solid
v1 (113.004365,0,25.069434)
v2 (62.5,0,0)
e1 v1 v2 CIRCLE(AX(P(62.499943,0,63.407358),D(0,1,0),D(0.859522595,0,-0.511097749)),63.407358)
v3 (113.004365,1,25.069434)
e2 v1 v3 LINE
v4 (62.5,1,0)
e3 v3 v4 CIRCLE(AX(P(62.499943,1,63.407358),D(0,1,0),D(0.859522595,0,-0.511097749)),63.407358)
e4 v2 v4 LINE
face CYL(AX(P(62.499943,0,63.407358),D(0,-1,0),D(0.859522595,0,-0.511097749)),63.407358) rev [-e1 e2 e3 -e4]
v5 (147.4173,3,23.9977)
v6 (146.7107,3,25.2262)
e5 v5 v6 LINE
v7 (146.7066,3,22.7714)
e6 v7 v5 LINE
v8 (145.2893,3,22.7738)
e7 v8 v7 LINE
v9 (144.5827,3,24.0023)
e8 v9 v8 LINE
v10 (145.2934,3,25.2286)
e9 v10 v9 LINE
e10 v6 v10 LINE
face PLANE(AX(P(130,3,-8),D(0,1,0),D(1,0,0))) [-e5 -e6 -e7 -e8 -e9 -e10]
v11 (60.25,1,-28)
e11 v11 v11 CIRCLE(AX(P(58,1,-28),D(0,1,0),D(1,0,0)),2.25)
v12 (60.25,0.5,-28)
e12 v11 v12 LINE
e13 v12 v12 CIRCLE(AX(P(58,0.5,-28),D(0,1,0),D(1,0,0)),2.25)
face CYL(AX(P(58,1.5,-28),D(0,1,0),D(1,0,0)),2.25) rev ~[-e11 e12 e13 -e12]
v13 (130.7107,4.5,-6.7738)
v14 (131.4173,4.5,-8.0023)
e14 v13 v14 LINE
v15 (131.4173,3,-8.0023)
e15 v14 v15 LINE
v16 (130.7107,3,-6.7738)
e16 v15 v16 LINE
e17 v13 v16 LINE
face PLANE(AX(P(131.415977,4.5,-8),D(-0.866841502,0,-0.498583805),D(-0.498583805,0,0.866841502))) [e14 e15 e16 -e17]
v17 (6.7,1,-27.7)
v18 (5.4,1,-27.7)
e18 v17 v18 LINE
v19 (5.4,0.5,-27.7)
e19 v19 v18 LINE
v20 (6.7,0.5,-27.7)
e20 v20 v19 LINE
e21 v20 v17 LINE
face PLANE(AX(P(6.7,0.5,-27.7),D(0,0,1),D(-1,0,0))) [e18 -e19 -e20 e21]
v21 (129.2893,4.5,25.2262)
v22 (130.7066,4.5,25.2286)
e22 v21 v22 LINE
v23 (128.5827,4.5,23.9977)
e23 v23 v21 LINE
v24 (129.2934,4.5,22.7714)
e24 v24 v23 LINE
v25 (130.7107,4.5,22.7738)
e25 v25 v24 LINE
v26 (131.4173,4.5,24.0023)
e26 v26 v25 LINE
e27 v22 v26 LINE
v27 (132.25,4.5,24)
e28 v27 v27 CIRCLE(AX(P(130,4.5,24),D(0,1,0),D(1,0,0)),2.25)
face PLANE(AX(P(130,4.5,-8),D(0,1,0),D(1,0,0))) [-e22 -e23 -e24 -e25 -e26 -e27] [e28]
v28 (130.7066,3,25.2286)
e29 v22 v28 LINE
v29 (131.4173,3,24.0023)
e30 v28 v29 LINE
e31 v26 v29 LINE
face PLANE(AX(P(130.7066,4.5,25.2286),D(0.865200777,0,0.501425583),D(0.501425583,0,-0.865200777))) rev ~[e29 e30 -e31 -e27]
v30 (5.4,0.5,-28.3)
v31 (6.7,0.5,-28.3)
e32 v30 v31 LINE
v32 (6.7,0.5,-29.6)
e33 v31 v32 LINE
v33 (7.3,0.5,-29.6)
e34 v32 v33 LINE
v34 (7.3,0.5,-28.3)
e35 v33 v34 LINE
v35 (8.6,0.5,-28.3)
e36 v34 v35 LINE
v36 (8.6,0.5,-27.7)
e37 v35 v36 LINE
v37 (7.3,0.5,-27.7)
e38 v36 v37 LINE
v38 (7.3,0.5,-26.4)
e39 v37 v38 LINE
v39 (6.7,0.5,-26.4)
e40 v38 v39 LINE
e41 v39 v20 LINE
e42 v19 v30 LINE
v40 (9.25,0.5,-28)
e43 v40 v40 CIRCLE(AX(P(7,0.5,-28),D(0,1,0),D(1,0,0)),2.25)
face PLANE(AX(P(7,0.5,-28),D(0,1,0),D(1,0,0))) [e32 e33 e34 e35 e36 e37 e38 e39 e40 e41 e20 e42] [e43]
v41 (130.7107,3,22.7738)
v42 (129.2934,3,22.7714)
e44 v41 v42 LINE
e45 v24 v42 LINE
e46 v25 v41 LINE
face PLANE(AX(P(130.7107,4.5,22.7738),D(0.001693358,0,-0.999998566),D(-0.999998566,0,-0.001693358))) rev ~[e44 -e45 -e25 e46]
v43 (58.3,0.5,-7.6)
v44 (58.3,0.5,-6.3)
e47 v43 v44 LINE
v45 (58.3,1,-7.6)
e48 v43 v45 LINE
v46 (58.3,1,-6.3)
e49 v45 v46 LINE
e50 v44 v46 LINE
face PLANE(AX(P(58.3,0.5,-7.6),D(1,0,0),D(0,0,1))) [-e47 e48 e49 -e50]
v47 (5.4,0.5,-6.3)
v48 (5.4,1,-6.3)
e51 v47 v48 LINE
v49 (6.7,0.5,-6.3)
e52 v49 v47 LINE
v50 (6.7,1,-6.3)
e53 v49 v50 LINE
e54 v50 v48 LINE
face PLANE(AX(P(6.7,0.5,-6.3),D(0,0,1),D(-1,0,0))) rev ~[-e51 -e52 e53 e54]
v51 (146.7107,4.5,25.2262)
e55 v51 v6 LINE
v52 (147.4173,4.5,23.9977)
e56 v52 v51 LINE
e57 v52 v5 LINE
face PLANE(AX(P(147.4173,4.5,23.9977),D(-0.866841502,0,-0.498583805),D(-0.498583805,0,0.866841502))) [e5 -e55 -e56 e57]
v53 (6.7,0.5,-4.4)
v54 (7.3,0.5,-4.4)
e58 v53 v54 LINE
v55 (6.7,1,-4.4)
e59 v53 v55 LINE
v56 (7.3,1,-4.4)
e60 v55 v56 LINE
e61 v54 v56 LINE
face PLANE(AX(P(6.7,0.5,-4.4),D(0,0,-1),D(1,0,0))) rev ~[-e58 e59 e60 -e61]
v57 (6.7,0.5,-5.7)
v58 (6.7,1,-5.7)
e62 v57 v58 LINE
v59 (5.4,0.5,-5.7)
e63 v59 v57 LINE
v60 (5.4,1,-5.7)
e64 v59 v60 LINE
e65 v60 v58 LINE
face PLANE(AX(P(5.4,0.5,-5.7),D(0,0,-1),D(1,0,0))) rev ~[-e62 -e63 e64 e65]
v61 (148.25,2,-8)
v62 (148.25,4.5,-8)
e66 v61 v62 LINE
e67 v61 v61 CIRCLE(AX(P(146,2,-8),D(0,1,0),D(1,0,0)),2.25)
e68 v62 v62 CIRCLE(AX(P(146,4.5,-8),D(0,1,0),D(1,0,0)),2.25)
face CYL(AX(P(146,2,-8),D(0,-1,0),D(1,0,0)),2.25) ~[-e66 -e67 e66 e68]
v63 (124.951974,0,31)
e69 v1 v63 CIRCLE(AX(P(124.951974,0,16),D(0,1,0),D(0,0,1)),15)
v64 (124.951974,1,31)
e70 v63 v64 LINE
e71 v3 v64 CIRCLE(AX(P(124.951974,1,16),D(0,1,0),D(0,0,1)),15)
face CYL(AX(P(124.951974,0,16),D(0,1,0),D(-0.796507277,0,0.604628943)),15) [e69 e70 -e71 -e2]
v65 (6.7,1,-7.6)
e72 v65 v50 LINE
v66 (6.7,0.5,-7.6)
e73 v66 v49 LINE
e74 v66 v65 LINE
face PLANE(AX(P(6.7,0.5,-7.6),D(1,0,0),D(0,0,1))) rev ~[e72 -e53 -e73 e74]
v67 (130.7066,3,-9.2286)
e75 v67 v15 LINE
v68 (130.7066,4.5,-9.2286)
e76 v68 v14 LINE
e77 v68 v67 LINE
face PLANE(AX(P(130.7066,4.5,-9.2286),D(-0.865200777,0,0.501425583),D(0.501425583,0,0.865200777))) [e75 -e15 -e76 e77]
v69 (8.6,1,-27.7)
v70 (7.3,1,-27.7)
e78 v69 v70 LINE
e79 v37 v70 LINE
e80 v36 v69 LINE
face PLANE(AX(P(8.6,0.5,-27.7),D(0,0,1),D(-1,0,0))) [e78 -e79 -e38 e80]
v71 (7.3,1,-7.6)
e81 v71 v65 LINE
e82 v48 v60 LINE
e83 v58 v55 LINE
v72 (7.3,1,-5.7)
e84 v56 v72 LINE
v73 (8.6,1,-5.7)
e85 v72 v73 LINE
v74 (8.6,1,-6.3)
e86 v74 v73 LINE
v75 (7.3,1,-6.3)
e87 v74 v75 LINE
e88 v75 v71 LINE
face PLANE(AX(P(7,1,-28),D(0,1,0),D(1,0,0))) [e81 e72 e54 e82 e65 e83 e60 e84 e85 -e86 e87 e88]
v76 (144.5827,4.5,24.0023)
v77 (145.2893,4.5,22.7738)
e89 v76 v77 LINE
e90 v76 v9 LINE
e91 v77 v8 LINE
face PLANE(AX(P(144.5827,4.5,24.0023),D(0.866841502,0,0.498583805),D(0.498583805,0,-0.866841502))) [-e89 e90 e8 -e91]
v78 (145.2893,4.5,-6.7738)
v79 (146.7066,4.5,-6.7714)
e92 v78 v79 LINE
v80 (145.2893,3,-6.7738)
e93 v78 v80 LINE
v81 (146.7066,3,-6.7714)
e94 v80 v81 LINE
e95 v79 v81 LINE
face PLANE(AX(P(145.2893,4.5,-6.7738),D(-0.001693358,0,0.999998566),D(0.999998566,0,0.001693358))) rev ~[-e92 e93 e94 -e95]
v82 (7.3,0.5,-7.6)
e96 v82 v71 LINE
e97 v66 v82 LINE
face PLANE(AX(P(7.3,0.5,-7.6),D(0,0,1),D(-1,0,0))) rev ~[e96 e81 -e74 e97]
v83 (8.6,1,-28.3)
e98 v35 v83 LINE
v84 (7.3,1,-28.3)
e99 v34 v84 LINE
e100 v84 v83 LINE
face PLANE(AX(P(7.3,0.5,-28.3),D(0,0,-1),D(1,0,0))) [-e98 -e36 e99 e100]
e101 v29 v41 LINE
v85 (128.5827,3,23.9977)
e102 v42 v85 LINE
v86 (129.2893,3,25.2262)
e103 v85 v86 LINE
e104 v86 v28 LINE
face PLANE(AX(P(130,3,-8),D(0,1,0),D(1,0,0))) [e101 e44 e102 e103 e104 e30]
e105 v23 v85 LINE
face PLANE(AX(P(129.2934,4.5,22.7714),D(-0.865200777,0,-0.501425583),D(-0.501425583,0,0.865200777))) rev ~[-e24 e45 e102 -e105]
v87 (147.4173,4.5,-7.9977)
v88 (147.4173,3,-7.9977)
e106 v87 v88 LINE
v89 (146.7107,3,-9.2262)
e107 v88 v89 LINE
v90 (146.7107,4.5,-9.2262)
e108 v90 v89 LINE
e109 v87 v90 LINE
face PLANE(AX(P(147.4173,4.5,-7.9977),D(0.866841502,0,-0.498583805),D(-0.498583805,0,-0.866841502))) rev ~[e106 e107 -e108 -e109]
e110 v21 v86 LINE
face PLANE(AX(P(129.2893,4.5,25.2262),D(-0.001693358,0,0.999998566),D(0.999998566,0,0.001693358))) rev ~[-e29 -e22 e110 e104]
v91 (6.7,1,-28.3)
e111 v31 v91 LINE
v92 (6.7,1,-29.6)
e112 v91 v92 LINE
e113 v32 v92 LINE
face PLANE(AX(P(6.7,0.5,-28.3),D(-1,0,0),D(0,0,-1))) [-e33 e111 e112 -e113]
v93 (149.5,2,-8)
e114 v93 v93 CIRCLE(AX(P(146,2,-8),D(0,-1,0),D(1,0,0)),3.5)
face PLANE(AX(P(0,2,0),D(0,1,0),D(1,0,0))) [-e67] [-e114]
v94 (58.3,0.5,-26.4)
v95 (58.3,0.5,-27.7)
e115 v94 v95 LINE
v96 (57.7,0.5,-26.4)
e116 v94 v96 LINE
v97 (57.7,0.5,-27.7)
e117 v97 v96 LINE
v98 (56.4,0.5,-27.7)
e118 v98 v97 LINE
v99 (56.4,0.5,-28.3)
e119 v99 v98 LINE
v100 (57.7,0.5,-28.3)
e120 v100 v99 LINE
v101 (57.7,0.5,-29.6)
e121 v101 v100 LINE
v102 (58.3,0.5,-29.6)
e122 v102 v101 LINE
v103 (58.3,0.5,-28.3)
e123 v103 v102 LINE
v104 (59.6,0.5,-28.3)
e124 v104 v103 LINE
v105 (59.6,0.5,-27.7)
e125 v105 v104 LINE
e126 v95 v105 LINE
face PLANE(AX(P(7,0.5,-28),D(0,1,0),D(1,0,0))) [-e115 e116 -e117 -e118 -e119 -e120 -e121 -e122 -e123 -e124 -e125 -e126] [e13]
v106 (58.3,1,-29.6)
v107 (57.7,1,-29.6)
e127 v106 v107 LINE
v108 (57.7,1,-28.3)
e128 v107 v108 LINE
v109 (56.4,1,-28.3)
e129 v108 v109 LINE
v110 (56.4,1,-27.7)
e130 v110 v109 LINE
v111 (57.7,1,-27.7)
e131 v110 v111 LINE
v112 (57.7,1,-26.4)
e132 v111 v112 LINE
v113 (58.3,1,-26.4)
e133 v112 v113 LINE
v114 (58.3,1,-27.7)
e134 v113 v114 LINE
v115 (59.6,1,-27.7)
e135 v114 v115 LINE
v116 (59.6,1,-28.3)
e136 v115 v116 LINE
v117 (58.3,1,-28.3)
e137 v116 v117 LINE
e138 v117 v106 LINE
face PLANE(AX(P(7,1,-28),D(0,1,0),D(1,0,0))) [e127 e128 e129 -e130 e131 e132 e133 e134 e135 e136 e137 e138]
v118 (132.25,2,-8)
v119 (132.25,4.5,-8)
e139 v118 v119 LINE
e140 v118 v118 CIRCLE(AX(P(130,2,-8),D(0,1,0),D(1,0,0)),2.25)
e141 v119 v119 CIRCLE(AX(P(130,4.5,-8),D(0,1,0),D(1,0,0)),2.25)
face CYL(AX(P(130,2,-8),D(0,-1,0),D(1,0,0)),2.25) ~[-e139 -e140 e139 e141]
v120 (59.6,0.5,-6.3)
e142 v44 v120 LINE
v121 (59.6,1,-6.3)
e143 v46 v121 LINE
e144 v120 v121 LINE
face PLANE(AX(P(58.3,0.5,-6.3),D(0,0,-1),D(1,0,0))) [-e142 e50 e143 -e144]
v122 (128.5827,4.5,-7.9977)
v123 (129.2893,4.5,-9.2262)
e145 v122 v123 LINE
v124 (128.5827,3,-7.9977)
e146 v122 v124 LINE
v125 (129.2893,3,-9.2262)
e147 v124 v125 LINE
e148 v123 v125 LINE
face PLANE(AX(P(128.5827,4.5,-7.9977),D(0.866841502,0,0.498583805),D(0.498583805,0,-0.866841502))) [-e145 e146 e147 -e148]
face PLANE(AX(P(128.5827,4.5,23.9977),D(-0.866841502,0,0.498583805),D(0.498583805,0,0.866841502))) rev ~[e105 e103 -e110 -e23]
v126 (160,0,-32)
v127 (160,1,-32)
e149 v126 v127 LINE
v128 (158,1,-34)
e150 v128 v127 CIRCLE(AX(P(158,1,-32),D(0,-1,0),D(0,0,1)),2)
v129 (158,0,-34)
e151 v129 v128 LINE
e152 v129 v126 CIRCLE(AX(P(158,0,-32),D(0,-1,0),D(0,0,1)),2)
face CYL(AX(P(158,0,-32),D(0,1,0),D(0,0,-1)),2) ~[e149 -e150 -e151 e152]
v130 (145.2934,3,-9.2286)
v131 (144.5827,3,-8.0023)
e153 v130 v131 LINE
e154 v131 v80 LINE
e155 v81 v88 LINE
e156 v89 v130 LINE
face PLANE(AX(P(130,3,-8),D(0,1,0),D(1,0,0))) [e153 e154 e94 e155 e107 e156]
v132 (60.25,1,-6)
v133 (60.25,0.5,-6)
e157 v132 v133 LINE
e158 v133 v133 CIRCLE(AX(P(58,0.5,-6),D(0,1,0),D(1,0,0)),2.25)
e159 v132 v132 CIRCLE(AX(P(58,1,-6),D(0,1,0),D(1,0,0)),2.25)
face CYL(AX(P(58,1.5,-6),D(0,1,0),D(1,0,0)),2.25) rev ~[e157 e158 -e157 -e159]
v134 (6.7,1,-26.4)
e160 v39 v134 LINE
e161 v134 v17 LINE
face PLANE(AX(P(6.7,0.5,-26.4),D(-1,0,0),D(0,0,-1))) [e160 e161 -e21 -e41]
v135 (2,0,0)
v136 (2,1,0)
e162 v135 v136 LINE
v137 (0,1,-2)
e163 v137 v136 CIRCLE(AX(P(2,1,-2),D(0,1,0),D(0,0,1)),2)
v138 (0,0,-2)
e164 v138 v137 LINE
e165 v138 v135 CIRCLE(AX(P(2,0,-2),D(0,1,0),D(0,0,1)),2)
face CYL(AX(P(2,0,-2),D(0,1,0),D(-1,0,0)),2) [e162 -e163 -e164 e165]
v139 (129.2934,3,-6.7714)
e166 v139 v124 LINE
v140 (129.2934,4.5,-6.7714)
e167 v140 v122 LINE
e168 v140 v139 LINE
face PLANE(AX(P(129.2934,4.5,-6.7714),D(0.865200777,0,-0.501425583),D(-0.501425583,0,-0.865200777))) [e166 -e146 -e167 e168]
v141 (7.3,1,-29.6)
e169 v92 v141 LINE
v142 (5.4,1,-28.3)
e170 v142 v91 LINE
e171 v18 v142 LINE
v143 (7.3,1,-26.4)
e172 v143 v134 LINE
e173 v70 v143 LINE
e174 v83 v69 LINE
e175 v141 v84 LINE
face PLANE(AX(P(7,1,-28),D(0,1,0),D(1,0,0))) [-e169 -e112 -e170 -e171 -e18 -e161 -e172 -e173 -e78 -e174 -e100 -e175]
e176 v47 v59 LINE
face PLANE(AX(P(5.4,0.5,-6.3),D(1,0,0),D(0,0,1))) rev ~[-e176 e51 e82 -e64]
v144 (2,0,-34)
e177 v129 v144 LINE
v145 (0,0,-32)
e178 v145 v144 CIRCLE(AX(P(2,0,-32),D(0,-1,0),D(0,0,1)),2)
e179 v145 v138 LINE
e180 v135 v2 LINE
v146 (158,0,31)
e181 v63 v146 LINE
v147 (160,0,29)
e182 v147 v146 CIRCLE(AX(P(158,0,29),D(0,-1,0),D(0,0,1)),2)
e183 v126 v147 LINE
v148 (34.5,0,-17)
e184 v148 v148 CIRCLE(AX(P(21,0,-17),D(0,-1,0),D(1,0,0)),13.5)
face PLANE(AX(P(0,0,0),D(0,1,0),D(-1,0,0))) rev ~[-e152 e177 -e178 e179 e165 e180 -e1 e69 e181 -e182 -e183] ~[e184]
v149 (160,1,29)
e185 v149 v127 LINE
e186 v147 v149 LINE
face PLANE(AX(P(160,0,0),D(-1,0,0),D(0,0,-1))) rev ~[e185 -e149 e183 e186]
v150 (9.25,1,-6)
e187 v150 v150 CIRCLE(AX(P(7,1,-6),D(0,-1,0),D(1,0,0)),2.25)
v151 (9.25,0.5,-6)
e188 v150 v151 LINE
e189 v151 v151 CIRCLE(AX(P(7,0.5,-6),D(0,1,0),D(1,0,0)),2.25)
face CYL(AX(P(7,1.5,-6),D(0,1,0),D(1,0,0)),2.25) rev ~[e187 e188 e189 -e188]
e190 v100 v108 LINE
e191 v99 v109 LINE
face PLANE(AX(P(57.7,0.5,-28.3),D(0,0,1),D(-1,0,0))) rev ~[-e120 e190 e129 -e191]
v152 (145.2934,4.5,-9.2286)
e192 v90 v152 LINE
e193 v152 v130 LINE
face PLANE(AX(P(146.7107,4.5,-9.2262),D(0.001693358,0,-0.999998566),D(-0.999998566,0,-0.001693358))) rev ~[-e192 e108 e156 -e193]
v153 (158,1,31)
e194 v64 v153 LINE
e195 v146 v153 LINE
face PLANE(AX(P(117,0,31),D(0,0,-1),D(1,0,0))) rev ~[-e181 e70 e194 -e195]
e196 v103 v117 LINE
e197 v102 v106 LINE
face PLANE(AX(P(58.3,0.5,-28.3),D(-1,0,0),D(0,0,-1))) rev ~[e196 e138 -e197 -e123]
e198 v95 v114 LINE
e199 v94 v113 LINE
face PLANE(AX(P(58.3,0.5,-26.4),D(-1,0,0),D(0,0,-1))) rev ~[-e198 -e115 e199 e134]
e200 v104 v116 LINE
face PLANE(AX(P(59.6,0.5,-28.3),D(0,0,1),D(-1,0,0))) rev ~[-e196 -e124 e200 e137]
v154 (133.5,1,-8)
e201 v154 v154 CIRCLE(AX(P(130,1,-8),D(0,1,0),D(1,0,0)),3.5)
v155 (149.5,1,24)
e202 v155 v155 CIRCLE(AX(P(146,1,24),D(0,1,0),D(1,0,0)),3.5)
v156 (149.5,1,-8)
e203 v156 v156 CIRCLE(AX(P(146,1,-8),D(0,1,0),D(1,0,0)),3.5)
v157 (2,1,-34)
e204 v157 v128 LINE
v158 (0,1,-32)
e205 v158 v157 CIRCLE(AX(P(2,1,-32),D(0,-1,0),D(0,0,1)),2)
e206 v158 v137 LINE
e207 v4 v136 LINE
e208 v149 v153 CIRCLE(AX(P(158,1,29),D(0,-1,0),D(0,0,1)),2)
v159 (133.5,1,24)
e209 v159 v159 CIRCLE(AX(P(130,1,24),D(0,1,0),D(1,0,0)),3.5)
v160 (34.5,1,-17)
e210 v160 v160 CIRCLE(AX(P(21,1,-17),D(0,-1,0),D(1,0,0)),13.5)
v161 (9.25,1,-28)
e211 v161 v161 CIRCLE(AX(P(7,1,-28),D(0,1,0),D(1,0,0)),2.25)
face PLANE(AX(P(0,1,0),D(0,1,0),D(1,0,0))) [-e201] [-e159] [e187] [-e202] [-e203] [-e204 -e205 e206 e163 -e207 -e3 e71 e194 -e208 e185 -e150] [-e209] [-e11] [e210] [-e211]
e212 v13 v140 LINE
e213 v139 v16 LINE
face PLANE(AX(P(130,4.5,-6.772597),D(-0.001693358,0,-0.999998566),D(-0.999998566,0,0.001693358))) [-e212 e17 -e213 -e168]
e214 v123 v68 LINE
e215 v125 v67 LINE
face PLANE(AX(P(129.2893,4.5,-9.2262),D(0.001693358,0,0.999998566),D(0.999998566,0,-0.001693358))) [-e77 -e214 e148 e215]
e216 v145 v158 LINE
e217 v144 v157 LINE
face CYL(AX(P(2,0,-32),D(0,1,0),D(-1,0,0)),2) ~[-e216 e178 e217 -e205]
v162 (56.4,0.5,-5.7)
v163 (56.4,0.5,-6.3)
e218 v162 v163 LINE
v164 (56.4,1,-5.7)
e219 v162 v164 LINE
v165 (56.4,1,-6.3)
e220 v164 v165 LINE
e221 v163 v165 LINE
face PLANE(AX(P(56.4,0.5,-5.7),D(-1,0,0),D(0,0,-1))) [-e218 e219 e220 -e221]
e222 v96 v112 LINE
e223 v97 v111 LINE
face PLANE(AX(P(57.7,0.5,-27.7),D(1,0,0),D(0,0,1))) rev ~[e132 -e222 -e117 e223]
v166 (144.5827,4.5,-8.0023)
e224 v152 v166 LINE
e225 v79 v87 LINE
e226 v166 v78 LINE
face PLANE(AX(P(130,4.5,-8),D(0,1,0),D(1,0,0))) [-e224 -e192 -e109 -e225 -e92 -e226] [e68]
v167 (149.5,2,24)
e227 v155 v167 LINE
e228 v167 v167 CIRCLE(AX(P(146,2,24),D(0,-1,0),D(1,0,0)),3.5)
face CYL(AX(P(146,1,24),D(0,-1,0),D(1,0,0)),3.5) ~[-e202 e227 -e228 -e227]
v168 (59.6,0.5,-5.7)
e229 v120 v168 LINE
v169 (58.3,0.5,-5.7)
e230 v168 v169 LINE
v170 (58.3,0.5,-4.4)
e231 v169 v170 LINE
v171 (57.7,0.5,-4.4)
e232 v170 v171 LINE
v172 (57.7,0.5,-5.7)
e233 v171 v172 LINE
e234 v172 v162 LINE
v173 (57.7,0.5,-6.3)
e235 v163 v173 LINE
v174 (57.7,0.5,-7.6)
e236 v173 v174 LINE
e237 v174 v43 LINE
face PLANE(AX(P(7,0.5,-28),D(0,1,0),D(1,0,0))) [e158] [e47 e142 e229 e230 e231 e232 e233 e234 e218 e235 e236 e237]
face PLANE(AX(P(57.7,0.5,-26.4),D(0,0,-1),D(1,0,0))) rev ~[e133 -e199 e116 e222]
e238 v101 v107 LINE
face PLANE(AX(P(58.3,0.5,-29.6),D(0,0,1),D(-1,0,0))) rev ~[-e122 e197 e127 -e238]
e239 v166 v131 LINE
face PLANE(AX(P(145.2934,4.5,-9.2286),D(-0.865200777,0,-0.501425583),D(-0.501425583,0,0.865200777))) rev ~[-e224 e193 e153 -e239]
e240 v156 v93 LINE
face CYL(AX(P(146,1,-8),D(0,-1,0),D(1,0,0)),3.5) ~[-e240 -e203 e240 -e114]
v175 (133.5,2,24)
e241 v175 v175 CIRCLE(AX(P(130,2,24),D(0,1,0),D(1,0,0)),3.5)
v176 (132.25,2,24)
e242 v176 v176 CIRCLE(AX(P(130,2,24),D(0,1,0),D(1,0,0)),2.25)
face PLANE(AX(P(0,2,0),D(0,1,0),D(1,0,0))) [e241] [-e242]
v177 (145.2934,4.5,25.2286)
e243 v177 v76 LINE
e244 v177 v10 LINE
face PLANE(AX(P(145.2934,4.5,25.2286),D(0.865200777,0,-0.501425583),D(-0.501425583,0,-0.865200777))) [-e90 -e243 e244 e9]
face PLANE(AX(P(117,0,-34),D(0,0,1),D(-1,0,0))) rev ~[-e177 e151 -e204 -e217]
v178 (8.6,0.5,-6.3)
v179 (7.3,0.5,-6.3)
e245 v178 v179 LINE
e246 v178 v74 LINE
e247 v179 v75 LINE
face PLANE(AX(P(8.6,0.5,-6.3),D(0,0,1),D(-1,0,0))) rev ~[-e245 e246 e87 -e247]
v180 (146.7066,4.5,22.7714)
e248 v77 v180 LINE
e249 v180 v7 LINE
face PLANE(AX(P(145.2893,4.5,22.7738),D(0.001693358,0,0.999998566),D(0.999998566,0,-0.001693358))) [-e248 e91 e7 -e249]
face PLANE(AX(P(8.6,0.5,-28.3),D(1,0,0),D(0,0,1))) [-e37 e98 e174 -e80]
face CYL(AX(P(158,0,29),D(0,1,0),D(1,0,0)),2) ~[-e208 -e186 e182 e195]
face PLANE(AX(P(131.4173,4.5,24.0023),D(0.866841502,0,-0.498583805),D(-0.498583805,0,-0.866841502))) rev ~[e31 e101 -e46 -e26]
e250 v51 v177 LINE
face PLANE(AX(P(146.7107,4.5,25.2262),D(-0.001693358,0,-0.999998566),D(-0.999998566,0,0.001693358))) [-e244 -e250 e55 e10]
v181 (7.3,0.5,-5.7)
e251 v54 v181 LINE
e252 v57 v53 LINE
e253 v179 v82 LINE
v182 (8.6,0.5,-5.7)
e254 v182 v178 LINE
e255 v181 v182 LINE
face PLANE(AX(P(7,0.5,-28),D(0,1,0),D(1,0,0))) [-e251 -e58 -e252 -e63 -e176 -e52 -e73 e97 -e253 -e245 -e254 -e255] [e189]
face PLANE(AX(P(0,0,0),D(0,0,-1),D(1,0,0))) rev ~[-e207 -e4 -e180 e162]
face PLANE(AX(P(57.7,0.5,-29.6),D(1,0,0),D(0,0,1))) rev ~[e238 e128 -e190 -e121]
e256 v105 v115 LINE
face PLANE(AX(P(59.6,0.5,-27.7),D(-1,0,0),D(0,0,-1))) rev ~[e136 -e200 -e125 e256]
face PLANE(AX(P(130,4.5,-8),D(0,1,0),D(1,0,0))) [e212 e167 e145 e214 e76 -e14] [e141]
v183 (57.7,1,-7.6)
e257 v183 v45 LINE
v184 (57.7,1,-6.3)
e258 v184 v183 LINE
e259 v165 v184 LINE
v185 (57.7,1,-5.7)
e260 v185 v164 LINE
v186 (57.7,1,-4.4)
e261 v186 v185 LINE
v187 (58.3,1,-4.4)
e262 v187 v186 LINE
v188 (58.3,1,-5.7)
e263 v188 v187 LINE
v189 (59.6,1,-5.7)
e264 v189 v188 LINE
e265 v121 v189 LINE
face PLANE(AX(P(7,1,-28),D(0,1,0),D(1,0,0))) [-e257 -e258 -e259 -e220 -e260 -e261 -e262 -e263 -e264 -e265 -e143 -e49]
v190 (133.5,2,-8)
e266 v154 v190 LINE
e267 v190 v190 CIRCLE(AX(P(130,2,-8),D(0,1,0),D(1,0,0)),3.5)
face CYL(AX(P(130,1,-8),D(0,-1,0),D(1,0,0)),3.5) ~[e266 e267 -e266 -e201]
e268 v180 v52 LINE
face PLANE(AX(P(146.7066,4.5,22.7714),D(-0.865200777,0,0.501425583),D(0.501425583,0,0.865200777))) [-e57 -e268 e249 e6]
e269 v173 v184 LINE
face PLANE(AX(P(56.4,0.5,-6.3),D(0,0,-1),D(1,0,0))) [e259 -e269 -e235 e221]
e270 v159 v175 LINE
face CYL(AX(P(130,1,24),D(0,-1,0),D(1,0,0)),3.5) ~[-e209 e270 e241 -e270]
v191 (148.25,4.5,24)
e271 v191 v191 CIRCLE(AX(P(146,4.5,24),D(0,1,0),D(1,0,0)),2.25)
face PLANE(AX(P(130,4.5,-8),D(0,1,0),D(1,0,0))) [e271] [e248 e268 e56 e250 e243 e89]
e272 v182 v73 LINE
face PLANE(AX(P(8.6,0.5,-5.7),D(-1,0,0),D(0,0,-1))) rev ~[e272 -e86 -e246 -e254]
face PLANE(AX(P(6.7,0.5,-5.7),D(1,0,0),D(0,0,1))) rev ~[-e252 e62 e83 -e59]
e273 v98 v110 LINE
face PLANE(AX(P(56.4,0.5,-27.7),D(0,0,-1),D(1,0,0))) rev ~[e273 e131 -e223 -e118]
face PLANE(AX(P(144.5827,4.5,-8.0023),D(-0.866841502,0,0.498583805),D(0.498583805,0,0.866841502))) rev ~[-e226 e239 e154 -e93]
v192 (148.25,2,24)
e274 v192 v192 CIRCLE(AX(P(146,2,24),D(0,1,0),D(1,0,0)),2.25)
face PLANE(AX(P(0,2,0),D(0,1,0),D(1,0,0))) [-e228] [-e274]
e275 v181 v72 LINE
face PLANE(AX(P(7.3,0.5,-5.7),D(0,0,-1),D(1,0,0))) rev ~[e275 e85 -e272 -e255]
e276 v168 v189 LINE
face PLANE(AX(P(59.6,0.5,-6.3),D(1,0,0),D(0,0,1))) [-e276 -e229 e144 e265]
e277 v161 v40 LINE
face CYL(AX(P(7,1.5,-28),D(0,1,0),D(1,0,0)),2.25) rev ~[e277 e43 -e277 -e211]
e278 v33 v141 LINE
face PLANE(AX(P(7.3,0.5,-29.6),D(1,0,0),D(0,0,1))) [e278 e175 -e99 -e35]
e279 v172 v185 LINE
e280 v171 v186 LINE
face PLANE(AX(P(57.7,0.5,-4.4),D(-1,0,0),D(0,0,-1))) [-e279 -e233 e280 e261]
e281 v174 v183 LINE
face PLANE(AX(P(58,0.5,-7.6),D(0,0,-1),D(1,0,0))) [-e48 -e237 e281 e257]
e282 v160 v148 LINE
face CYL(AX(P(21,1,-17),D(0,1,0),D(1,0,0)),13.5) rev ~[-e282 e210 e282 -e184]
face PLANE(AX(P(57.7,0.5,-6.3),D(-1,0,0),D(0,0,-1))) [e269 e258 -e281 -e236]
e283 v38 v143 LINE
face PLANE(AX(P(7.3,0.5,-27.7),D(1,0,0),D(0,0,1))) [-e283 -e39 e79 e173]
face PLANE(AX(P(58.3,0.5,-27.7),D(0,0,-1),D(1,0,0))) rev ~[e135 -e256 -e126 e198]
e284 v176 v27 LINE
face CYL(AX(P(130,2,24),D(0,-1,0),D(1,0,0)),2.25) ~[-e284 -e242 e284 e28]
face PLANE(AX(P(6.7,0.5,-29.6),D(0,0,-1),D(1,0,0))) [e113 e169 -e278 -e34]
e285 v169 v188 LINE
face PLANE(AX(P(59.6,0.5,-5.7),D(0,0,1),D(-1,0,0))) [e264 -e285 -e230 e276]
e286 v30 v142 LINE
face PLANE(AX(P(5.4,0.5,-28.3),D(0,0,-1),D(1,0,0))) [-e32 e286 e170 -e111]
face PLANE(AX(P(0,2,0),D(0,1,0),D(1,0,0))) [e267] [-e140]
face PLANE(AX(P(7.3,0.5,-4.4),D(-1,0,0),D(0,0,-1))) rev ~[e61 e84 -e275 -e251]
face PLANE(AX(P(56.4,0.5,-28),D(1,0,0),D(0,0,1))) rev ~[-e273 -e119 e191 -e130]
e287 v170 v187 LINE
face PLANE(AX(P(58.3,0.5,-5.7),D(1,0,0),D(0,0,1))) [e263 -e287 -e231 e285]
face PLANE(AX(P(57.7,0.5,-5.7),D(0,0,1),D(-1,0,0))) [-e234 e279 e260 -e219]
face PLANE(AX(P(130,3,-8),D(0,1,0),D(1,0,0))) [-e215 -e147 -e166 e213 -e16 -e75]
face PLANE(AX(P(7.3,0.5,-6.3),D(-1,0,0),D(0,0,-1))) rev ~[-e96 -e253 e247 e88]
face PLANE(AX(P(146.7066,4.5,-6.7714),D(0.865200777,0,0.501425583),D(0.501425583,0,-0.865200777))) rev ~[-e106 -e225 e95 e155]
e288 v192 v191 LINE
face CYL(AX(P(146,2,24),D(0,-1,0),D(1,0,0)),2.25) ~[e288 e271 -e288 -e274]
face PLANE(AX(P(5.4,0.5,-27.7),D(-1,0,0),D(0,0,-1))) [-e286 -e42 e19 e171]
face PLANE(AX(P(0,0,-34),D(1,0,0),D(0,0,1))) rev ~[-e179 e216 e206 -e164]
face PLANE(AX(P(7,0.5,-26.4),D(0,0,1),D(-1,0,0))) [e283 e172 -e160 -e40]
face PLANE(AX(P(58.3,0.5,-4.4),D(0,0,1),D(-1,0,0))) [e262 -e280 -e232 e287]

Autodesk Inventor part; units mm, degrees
ref_plane "YZ Plane" through (0, 0, 0) normal (1, 0, 0) x (0, 1, 0)
ref_plane "XZ Plane" through (0, 0, 0) normal (0, 1, 0) x (-1, 0, 0)
ref_plane "XY Plane" through (0, 0, 0) normal (0, 0, 1) x (1, 0, 0)
sketch "Esboço1" plane through (0, 0, 0) normal (0, 1, 0) x (-1, 0, 0)
  line L0 (0, 0) -> (-160, 0)
  line L1 (-160, 0) -> (-160, -34)
  line L2 (-160, -34) -> (0, -34)
  line L3 (0, -34) -> (0, 0)
  line L4 (0, 0) -> (-4, 0)
  line L5 (-4, 0) -> (-62.5, 0)
  line L6 (-160, -34) -> (-160, 31)
  line L7 (-160, -34) -> (-117, -34)
  line L8 (-117, -34) -> (-117, 31)
  line L9 (-117, 31) -> (-160, 31)
  line L10 (-160, 31) -> (-160, -34)
  arc A0 (-117, 31) -> (-62.5, 0) centre (-62.5, 63.4073) ccw
  dimension "d0" = 160
  dimension "d1" = 34
  dimension "d2" = 4
  dimension "d3" = 58.5
  dimension "d4" = 65
  dimension "d5" = 43
extrude "Extrusão1" add sketch "Esboço1" along normal blind 1
fillet "Arredondamento1" radius 2 4 edges at (160, 0.5, 31) (160, 0.5, -34) (0, 0.5, 0) (0, 0.5, -34)
fillet "Arredondamento2" radius 15 1 edges at (117, 0.5, 31)
sketch "Esboço5" plane through (0, 1, 0) normal (0, 1, 0) x (1, 0, 0)
  line L0 (160, -29) -> (160, 32) projected
  line L1 (160, -21.1735) -> (160, -7.1735)
  line L2 (160, -21.1735) -> (146, -21.1735)
  line L3 (124.952, -31) -> (158, -31) projected
  line L4 (146, -31) -> (139, -31)
  line L5 (146, -31) -> (146, -24)
  circle A0 centre (146, -24) radius 3.5
  line L6 (146, -24) -> (130, -24)
  circle A1 centre (130, -24) radius 3.5
  line L7 (146, -24) -> (146, 8)
  circle A2 centre (146, 8) radius 3.5
  line L8 (146, 8) -> (130, 8)
  circle A3 centre (130, 8) radius 3.5
  point P0 (0, 0)
  dimension "d32" = 14
  dimension "d33" = 14
  dimension "d34" = 7
  dimension "d35" = 7
  dimension "d36" = 7
  dimension "d37" = 16
  dimension "d38" = 7
  dimension "d39" = 32
  dimension "d40" = 7
  dimension "d41" = 7
extrude "Extrusão3" add sketch "Esboço5" along normal blind 1
sketch "Esboço6" plane through (130, 2, -8) normal (0, 1, 0) x (1, 0, 0)
  circle A0 centre (0, 0) radius 2.25
  circle A1 centre (16, 0) radius 3.5 projected
  circle A2 centre (16, 0) radius 2.25
  circle A3 centre (0, -32) radius 3.5 projected
  circle A4 centre (0, -32) radius 2.25
  circle A5 centre (16, -32) radius 3.5 projected
  circle A6 centre (16, -32) radius 2.25
  point P0 (-130, -8)
  dimension "d44" = 4.5
  dimension "d45" = 4.5
  dimension "d46" = 4.5
  dimension "d47" = 4.5
extrude "Extrusão4" add sketch "Esboço6" along normal blind 2.5 contours A0 | A2 | A4 | A6
sketch "Esboço7" plane through (130, 4.5, -8) normal (0, 1, 0) x (1, 0, 0)
  circle A0 centre (0, 0) radius 2.25 projected
  line L0 (-0.7066, -1.2286) -> (-1.4173, -0.0023)
  line L1 (-1.4173, -0.0023) -> (-0.7107, 1.2262)
  line L2 (-0.7107, 1.2262) -> (0.7066, 1.2286)
  line L3 (0.7066, 1.2286) -> (1.4173, 0.0023)
  line L4 (1.4173, 0.0023) -> (0.7107, -1.2262)
  line L5 (0.7107, -1.2262) -> (-0.7066, -1.2286)
  line L6 (0, 0) -> (8, 0)
  line L7 (8, 0) -> (8, -3.5397)
  circle A1 centre (16, 0) radius 2.25
  line L8 (16.7066, -1.2286) -> (17.4173, -0.0023)
  line L9 (17.4173, -0.0023) -> (16.7107, 1.2262)
  line L10 (16.7107, 1.2262) -> (15.2934, 1.2286)
  line L11 (15.2934, 1.2286) -> (14.5827, 0.0023)
  line L12 (14.5827, 0.0023) -> (15.2893, -1.2262)
  line L13 (15.2893, -1.2262) -> (16.7066, -1.2286)
  line L14 (0, 0) -> (0, -16)
  line L15 (0, -16) -> (6.7888, -16)
  circle A2 centre (0, -32) radius 2.25
  line L16 (-0.7066, -30.7714) -> (-1.4173, -31.9977)
  line L17 (-1.4173, -31.9977) -> (-0.7107, -33.2262)
  line L18 (-0.7107, -33.2262) -> (0.7066, -33.2286)
  line L19 (0.7066, -33.2286) -> (1.4173, -32.0023)
  line L20 (1.4173, -32.0023) -> (0.7107, -30.7738)
  line L21 (0.7107, -30.7738) -> (-0.7066, -30.7714)
  circle A3 centre (16, -32) radius 2.25
  line L22 (16.7066, -30.7714) -> (17.4173, -31.9977)
  line L23 (17.4173, -31.9977) -> (16.7107, -33.2262)
  line L24 (16.7107, -33.2262) -> (15.2934, -33.2286)
  line L25 (15.2934, -33.2286) -> (14.5827, -32.0023)
  line L26 (14.5827, -32.0023) -> (15.2893, -30.7738)
  line L27 (15.2893, -30.7738) -> (16.7066, -30.7714)
  point P0 (-130, -8)
  dimension "d50" = 8
  dimension "d51" = 16
extrude "Extrusão5" cut sketch "Esboço7" against normal blind 1.5 contours L6 L14 L5 L0 L1 L2 L3 L4 | L4 L5 L14 L6 | L13 L12 L11 L10 L9 L8 | L21 L20 L19 L18 L17 L16 | L22 L23 L24 L25 L26 L27
sketch "Esboço8" plane through (0, 1, 0) normal (0, 1, 0) x (1, 0, 0)
  line L0 (0, 0) -> (6, 0)
  line L1 (2, 0) -> (62.5, 0) projected
  line L2 (6, 0) -> (-1.5, 0)
  line L3 (6, 0) -> (6, 7.5)
  circle A0 centre (6, 7.5) radius 2.25
  line L4 (0, 32) -> (0, 2) projected
  line L5 (0, 17) -> (13.7618, 17)
  circle A1 centre (6, 26.5) radius 2.25
  dimension "d54" = 6
  dimension "d55" = 7.5
  dimension "d56" = 7.5
  dimension "d57" = 4.5
extrude "Extrusão6" cut sketch "Esboço8" against normal blind 0.1
sketch "Esboço9" plane through (6, 0.9, -26.5) normal (0, 1, 0) x (1, 0, 0)
  circle A0 centre (0, -19) radius 2.25 projected
  line L0 (0, -19) -> (0.25, -19)
  line L1 (0.25, -19) -> (0.25, -20.5)
  line L2 (0.25, -20.5) -> (0, -20.5)
  line L3 (0, -20.5) -> (0, -19)
  line L4 (0, -20.5) -> (-0.25, -20.5)
  line L5 (-0.25, -20.5) -> (-0.25, -19)
  line L6 (-0.25, -19) -> (0, -19)
  line L7 (0, -19) -> (0, -20.5)
  line L8 (0.25, -20.5) -> (-0.25, -20.5)
  line L9 (-0.25, -20.5) -> (-0.25, -17.5)
  line L10 (-0.25, -17.5) -> (0.25, -17.5)
  line L11 (0.25, -17.5) -> (0.25, -20.5)
  line L12 (0, -19) -> (1.5, -19)
  line L13 (1.5, -19) -> (1.5, -18.75)
  line L14 (1.5, -18.75) -> (0, -18.75)
  line L15 (0, -18.75) -> (0, -19)
  line L16 (1.5, -18.75) -> (-1.5, -18.75)
  line L17 (-1.5, -18.75) -> (-1.5, -19.25)
  line L18 (-1.5, -19.25) -> (1.5, -19.25)
  line L19 (1.5, -19.25) -> (1.5, -18.75)
  line L20 (-6, 5.5) -> (-6, -24.5) projected
  line L21 (-6, -9.5) -> (4.7143, -9.5)
  line L22 (0, 0) -> (0.25, 0)
  line L23 (0.25, 0) -> (0.25, 1.5)
  line L24 (0.25, 1.5) -> (0, 1.5)
  line L25 (0, 1.5) -> (0, 0)
  line L26 (0, 1.5) -> (-0.25, 1.5)
  line L27 (-0.25, 1.5) -> (-0.25, 0)
  line L28 (-0.25, 0) -> (0, 0)
  line L29 (0, 0) -> (0, 1.5)
  line L30 (0.25, 1.5) -> (-0.25, 1.5)
  line L31 (-0.25, 1.5) -> (-0.25, -1.5)
  line L32 (-0.25, -1.5) -> (0.25, -1.5)
  line L33 (0.25, -1.5) -> (0.25, 1.5)
  line L34 (0, 0) -> (1.5, 0)
  line L35 (1.5, 0) -> (1.5, -0.25)
  line L36 (1.5, -0.25) -> (0, -0.25)
  line L37 (0, -0.25) -> (0, 0)
  line L38 (1.5, -0.25) -> (-1.5, -0.25)
  line L39 (-1.5, -0.25) -> (-1.5, 0.25)
  line L40 (-1.5, 0.25) -> (1.5, 0.25)
  line L41 (1.5, 0.25) -> (1.5, -0.25)
  point P0 (-6, -26.5)
  point P1 (-0.25, -19.25)
  point P2 (0.25, -19.25)
  point P3 (0.25, -18.75)
  point P4 (-0.25, -18.75)
  point P5 (0.25, 0.25)
  point P6 (-0.25, 0.25)
  point P7 (-0.25, -0.25)
  point P8 (0.25, -0.25)
  dimension "d60" = 0.25
  dimension "d61" = 1.5
  dimension "d62" = 0.25
  dimension "d63" = 3
  dimension "d64" = 1.5
  dimension "d65" = 0.25
  dimension "d66" = 3
  dimension "d67" = 0.5
extrude "Extrusão7" cut sketch "Esboço9" against normal blind 0.1 contours L15 L14 L11 L0 | L0 L1 L18 L3 | L3 L18 L5 L6 | L6 L9 L16 L15 | L12 L19 L18 L1 | L11 L14 L13 L12 | L18 L1 L2 L3 | L3 L4 L5 L18 | L5 L18 L17 L16 L9 | L16 L9 L10 L11 L14 | L25 L40 L23 L22 | L28 L27 L40 L25 | L37 L38 L31 L28 | L22 L33 L36 L37 | L34 L35 L36 L33 | L23 L40 L41 L34 | L40 L27 L26 L25 | L25 L24 L23 L40 | L31 L38 L39 L40 L27 | L36 L33 L32 L31 L38
sketch "Esboço10" plane through (6, 0.9, -26.5) normal (0, 1, 0) x (1, 0, 0)
  line L0 (0, 0) -> (52, 0)
  circle A0 centre (52, 0) radius 2.25
  circle A1 centre (0, -19) radius 2.25 projected
  line L1 (0, -19) -> (52, -19)
  circle A2 centre (52, -19) radius 2.25
  point P0 (-6, -26.5)
  dimension "d70" = 52
  dimension "d71" = 4.5
  dimension "d72" = 52
  dimension "d73" = 4.5
extrude "Extrusão8" cut sketch "Esboço10" along normal blind 2 contours A0 | A2
sketch "Esboço11" plane through (58, 0.9, -26.5) normal (0, 1, 0) x (1, 0, 0)
  line L0 (0, 0) -> (0.25, 0)
  line L1 (0.25, 0) -> (0.25, 1.5)
  line L2 (0.25, 1.5) -> (0, 1.5)
  line L3 (0, 1.5) -> (0, 0)
  line L4 (0.25, 1.5) -> (-0.25, 1.5)
  line L5 (-0.25, 1.5) -> (-0.25, -1.5)
  line L6 (-0.25, -1.5) -> (0.25, -1.5)
  line L7 (0.25, -1.5) -> (0.25, 1.5)
  line L8 (0, 0) -> (1.5, 0)
  line L9 (1.5, 0) -> (1.5, 0.25)
  line L10 (1.5, 0.25) -> (0, 0.25)
  line L11 (0, 0.25) -> (0, 0)
  line L12 (1.5, 0.25) -> (-1.5, 0.25)
  line L13 (-1.5, 0.25) -> (-1.5, -0.25)
  line L14 (-1.5, -0.25) -> (1.5, -0.25)
  line L15 (1.5, -0.25) -> (1.5, 0.25)
  line L16 (-58, 5.5) -> (-58, -24.5) projected
  line L17 (-58, -9.5) -> (-46.2393, -9.5)
  line L18 (0, -19) -> (0.25, -19)
  line L19 (0.25, -19) -> (0.25, -20.5)
  line L20 (0.25, -20.5) -> (0, -20.5)
  line L21 (0, -20.5) -> (0, -19)
  line L22 (0.25, -20.5) -> (-0.25, -20.5)
  line L23 (-0.25, -20.5) -> (-0.25, -17.5)
  line L24 (-0.25, -17.5) -> (0.25, -17.5)
  line L25 (0.25, -17.5) -> (0.25, -20.5)
  line L26 (0, -19) -> (1.5, -19)
  line L27 (1.5, -19) -> (1.5, -19.25)
  line L28 (1.5, -19.25) -> (0, -19.25)
  line L29 (0, -19.25) -> (0, -19)
  line L30 (1.5, -19.25) -> (-1.5, -19.25)
  line L31 (-1.5, -19.25) -> (-1.5, -18.75)
  line L32 (-1.5, -18.75) -> (1.5, -18.75)
  line L33 (1.5, -18.75) -> (1.5, -19.25)
  point P0 (-58, -26.5)
  point P1 (0.25, -0.25)
  point P2 (1.5, 0)
  point P3 (0.25, 0.25)
  point P4 (0, 1.5)
  point P5 (-0.25, 0.25)
  point P6 (-0.25, -0.25)
  point P7 (0.25, -19.25)
  point P8 (1.5, -19)
  point P9 (0.25, -18.75)
  point P10 (-0.25, -18.75)
  point P11 (-0.25, -19.25)
  dimension "d76" = 0.25
  dimension "d77" = 1.5
  dimension "d78" = 0.5
  dimension "d79" = 3
  dimension "d80" = 1.5
  dimension "d81" = 0.25
  dimension "d82" = 3
  dimension "d83" = 0.5
extrude "Extrusão9" cut sketch "Esboço11" against normal blind 0.1
sketch "Esboço12" plane through (0, 1, 0) normal (0, 1, 0) x (1, 0, 0)
  line L0 (0, 32) -> (0, 2) projected
  line L1 (0, 17) -> (5, 17)
  line L2 (5, 17) -> (36, 17)
  line L3 (5, 17) -> (20.5, 17)
  circle A0 centre (20.5, 17) radius 13
  point P0 (0, 0)
  dimension "d86" = 5
  dimension "d87" = 31
  dimension "d88" = 15.5
  dimension "d89" = 26
extrude "Extrusão10" cut sketch "Esboço12" against normal blind 10
sketch "Esboço13" plane through (0, 1, 0) normal (0, 1, 0) x (1, 0, 0)
  circle A0 centre (20.5, 17) radius 13 projected
  circle A1 centre (20.5, 17) radius 13
  point P0 (0, 0)
extrude "Extrusão11" add sketch "Esboço13" against normal blind 1
sketch "Esboço14" plane through (0, 1, 0) normal (0, 1, 0) x (1, 0, 0)
  line L0 (0, 32) -> (0, 2) projected
  line L1 (0, 17) -> (4.15, 17)
  line L2 (4.15, 17) -> (15.55, 17)
  line L3 (16.6408, 0) -> (16.6408, 6)
  circle A0 centre (15.55, 17) radius 11.054
  circle A1 centre (6, 7.5) radius 2.25 projected
  circle A2 centre (6, 7.5) radius 2.25
  circle A3 centre (6, 26.5) radius 2.25 projected
  circle A4 centre (6, 26.5) radius 2.25
  point P0 (0, 0)
  dimension "d94" = 4.15
  dimension "d95" = 11.4
  dimension "d97" = 6
extrude "Extrusão12" add sketch "Esboço14" against normal blind 1 contours A1 | A3
sketch "Esboço15" plane through (0, 1, 0) normal (0, 1, 0) x (1, 0, 0)
  circle A0 centre (58, 7.5) radius 2.25 projected
  circle A1 centre (58, 7.5) radius 2.25
  circle A2 centre (58, 26.5) radius 2.25 projected
  circle A3 centre (58, 26.5) radius 2.25
  point P0 (0, 0)
extrude "Extrusão13" add sketch "Esboço15" against normal blind 1
sketch "Esboço16" plane through (0, 1, 0) normal (0, 1, 0) x (1, 0, 0)
  line L0 (0, 0) -> (7, 0)
  line L1 (7, 0) -> (7, 6)
  line L2 (7, 6) -> (0, 6)
  line L3 (0, 6) -> (0, 0)
  circle A0 centre (7, 6) radius 2.25
  line L4 (0, 32) -> (0, 2) projected
  line L5 (0, 17) -> (5.9961, 17)
  line L6 (7, 0) -> (32.5, 0)
  line L7 (2, 0) -> (62.5, 0) projected
  line L8 (32.5, 0) -> (32.5, 15.1049)
  circle A1 centre (7, 28) radius 2.25
  circle A2 centre (58, 6) radius 2.25
  circle A3 centre (58, 28) radius 2.25
  dimension "d102" = 7
  dimension "d103" = 6
  dimension "d104" = 4.5
  dimension "d105" = 25.5
extrude "Extrusão14" cut sketch "Esboço16" against normal blind 1 contours A0 L2 L1 | L1 L2 A0 | A1 | A2 | A3
sketch "Esboço17" plane through (0, 1, 0) normal (0, 1, 0) x (1, 0, 0)
  line L0 (0, 32) -> (0, 2) projected
  line L1 (0, 17) -> (17, 17)
  line L2 (17, 17) -> (21, 17)
  circle A0 centre (21, 17) radius 13.5
  point P0 (0, 0)
  dimension "d108" = 17
  dimension "d109" = 4
  dimension "d110" = 27
extrude "Extrusão15" cut sketch "Esboço17" against normal blind 1
sketch "Esboço18" plane through (0, 0, 0) normal (0, -1, 0) x (1, 0, 0)
  circle A0 centre (58, -6) radius 2.25 projected
  circle A1 centre (58, -6) radius 2.25
  circle A2 centre (58, -28) radius 2.25 projected
  circle A3 centre (58, -28) radius 2.25
  circle A4 centre (7, -28) radius 2.25 projected
  circle A5 centre (7, -28) radius 2.25
  circle A6 centre (7, -6) radius 2.25 projected
  circle A7 centre (7, -6) radius 2.25
  point P0 (0, 0)
extrude "Extrusão16" add sketch "Esboço18" against normal blind 2
sketch "Esboço19" plane through (7, 2, -28) normal (0, 1, 0) x (1, 0, 0)
  circle A0 centre (0, 0) radius 2.25
  circle A1 centre (0, -22) radius 2.25 projected
  circle A2 centre (0, -22) radius 2.25
  circle A3 centre (51, 0) radius 2.25 projected
  circle A4 centre (51, 0) radius 2.25
  circle A5 centre (51, -22) radius 2.25 projected
  circle A6 centre (51, -22) radius 2.25
  point P0 (-7, -28)
extrude "Extrusão17" cut sketch "Esboço19" against normal blind 0.5
sketch "Esboço20" plane through (7, 1.5, -28) normal (0, 1, 0) x (1, 0, 0)
  line L0 (0, 0) -> (0.3, 0)
  line L1 (0.3, 0) -> (0.3, 1.6)
  line L2 (0.3, 1.6) -> (0, 1.6)
  line L3 (0, 1.6) -> (0, 0)
  line L4 (0.3, 0) -> (-0.3, 0)
  line L5 (-0.3, 0) -> (-0.3, 1.6)
  line L6 (-0.3, 1.6) -> (0.3, 1.6)
  line L7 (0.3, 1.6) -> (0.3, 0)
  line L8 (-0.9434, 0) -> (0.9565, 0)
  line L9 (0.3, 0) -> (0.3, -1.6)
  line L10 (-0.3, 0) -> (-0.3, -1.6)
  line L11 (-0.3, -1.6) -> (0.3, -1.6)
  line L12 (-0.3, 0) -> (-0.3, 0.3)
  line L13 (-0.3, 0.3) -> (-1.9, 0.3)
  line L14 (-1.9, 0.3) -> (-1.9, -0.3)
  line L15 (-1.9, -0.3) -> (-0.3, -0.3)
  line L16 (-0.3, -0.3) -> (-0.3, 0.3)
  line L17 (0.3, 0.3) -> (1.9, 0.3)
  line L18 (1.9, 0.3) -> (1.9, -0.3)
  line L19 (1.9, -0.3) -> (0.3, -0.3)
  line L20 (-1.9, -0.3) -> (-1.6, -0.3)
  line L21 (-1.6, -0.3) -> (-1.6, 0.3)
  line L22 (1.6, -0.3) -> (1.6, 0.3)
  line L23 (-7, 4) -> (-7, -26) projected
  line L24 (-7, -11) -> (4.0059, -11)
  line L25 (151, 6) -> (-5, 6) projected
  line L26 (0, 6) -> (25.5, 6)
  line L27 (25.5, 6) -> (25.5, -11)
  line L28 (0.3, -22) -> (0.3, -23.6)
  line L29 (-0.3, -22) -> (-0.3, -23.6)
  line L30 (-0.3, -23.6) -> (0.3, -23.6)
  line L31 (-0.3, -22) -> (-0.3, -20.4)
  line L32 (-0.3, -20.4) -> (0.3, -20.4)
  line L33 (0.3, -22) -> (0.3, -20.4)
  line L34 (-0.3, -22.3) -> (-1.9, -22.3)
  line L35 (-1.9, -21.7) -> (-0.3, -21.7)
  line L36 (0.3, -22.3) -> (1.9, -22.3)
  line L37 (1.9, -21.7) -> (0.3, -21.7)
  line L38 (-1.6, -21.7) -> (-1.6, -22.3)
  line L39 (1.6, -21.7) -> (1.6, -22.3)
  line L40 (51, 0) -> (50.7, 0)
  line L41 (50.7, 0) -> (50.7, 1.6)
  line L42 (50.7, 1.6) -> (51, 1.6)
  line L43 (51, 1.6) -> (51, 0)
  line L44 (50.7, 0) -> (51.3, 0)
  line L45 (51.3, 0) -> (51.3, 1.6)
  line L46 (51.3, 1.6) -> (50.7, 1.6)
  line L47 (50.7, 1.6) -> (50.7, 0)
  line L48 (51.9434, 0) -> (50.0435, 0)
  line L49 (51.3, 0) -> (51.3, -1.6)
  line L50 (51.3, -1.6) -> (50.7, -1.6)
  line L51 (50.7, 0) -> (50.7, -1.6)
  line L52 (51.3, 0) -> (51.3, 0.3)
  line L53 (51.3, 0.3) -> (52.9, 0.3)
  line L54 (52.9, 0.3) -> (52.9, -0.3)
  line L55 (52.9, -0.3) -> (51.3, -0.3)
  line L56 (51.3, -0.3) -> (51.3, 0.3)
  line L57 (50.7, 0.3) -> (49.1, 0.3)
  line L58 (49.1, 0.3) -> (49.1, -0.3)
  line L59 (49.1, -0.3) -> (50.7, -0.3)
  line L60 (52.9, -0.3) -> (52.6, -0.3)
  line L61 (52.6, -0.3) -> (52.6, 0.3)
  line L62 (49.4, -0.3) -> (49.4, 0.3)
  line L63 (51.3, -23.6) -> (50.7, -23.6)
  line L64 (51.3, -22) -> (51.3, -23.6)
  line L65 (50.7, -22) -> (50.7, -23.6)
  line L66 (50.7, -22.3) -> (49.1, -22.3)
  line L67 (49.4, -21.7) -> (49.4, -22.3)
  line L68 (49.1, -21.7) -> (50.7, -21.7)
  line L69 (50.7, -22) -> (50.7, -20.4)
  line L70 (51.3, -22) -> (51.3, -20.4)
  line L71 (52.9, -21.7) -> (51.3, -21.7)
  line L72 (52.6, -21.7) -> (52.6, -22.3)
  line L73 (51.3, -22.3) -> (52.9, -22.3)
  line L74 (51.3, -20.4) -> (50.7, -20.4)
  point P0 (-7, -28)
  point P1 (46.9941, -11)
  point P2 (0.3, -23.6)
  point P3 (0.3, -22.3)
  point P4 (0.3, -21.7)
  point P5 (0.3, -20.4)
  point P6 (-0.3, -21.7)
  point P7 (0.3, 0.3)
  point P8 (0, 1.6)
  point P9 (-0.3, -0.3)
  point P10 (0.3, -1.6)
  point P11 (0.3, -0.3)
  point P12 (1.6, -0.3)
  point P13 (1.6, 0.3)
  point P14 (50.7, -0.3)
  point P15 (50.7, -1.6)
  point P16 (51.3, -0.3)
  point P17 (51, 1.6)
  point P18 (50.7, 0.3)
  point P19 (49.4, 0.3)
  point P20 (49.4, -0.3)
  dimension "d117" = 0.3
  dimension "d118" = 1.6
  dimension "d119" = 0.6
  dimension "d120" = 1.6
  dimension "d121" = 0.3
  dimension "d122" = 1.6
  dimension "d123" = 0.6
  dimension "d124" = 0.3
  dimension "d125" = 25.5
extrude "Extrusão18" cut sketch "Esboço20" against normal blind 0.5 contours L3 L2 L1 L0 | L4 L5 L6 L3 | L0 L9 L11 L10 L4 | L1 L17 L22 L19 L9 | L10 L15 L21 L13 L5 | L33 L37 L39 L36 L28 | L28 L30 L29 L31 L32 L33 | L34 L38 L35 L31 L29 | L44 L49 L50 L51 L40 | L40 L41 L42 L43 | L43 L46 L45 L44 | L51 L59 L62 L57 L41 | L45 L53 L61 L55 L49 | L63 L65 L69 L74 L70 L64 | L64 L70 L71 L72 L73 | L66 L67 L68 L69 L65
sketch "Esboço21" plane through (0, 0, 0) normal (0, -1, 0) x (1, 0, 0)
  point P0 (0, 0)
sketch "Esboço22" plane through (7, 1.5, -28) normal (0, 1, 0) x (1, 0, 0)
  circle A0 centre (0, -22) radius 2.25 projected
  circle A1 centre (0, -22) radius 2.25
  circle A2 centre (0, 0) radius 2.25
  circle A3 centre (51, 0) radius 2.25 projected
  circle A4 centre (51, 0) radius 2.25
  circle A5 centre (51, -22) radius 2.25 projected
  circle A6 centre (51, -22) radius 2.25
  point P0 (-7, -28)
extrude "Extrusão19" cut sketch "Esboço22" against normal blind 1
sketch "Esboço23" plane through (7, 0.5, -28) normal (0, 1, 0) x (1, 0, 0)
  circle A0 centre (0, -22) radius 2.25 projected
  circle A1 centre (0, -22) radius 2.25
  line L0 (0, -22) -> (0.25, -22)
  line L1 (0.25, -22) -> (0.25, -20.5)
  line L2 (0.25, -20.5) -> (0, -20.5)
  line L3 (0, -20.5) -> (0, -22)
  line L4 (0, -22) -> (0.3, -22)
  line L5 (0.3, -22) -> (0.3, -20.4)
  line L6 (0.3, -20.4) -> (0, -20.4)
  line L7 (0, -20.4) -> (0, -22)
  line L8 (0.3, -20.4) -> (-0.3, -20.4)
  line L9 (-0.3, -20.4) -> (-0.3, -23.6)
  line L10 (-0.3, -23.6) -> (0.3, -23.6)
  line L11 (0.3, -23.6) -> (0.3, -20.4)
  line L12 (0, -22) -> (1.6, -22)
  line L13 (1.6, -22) -> (1.6, -21.7)
  line L14 (1.6, -21.7) -> (0, -21.7)
  line L15 (0, -21.7) -> (0, -22)
  line L16 (1.6, -21.7) -> (-1.6, -21.7)
  line L17 (-1.6, -21.7) -> (-1.6, -22.3)
  line L18 (-1.6, -22.3) -> (1.6, -22.3)
  line L19 (1.6, -22.3) -> (1.6, -21.7)
  line L20 (0, -22) -> (16, -22)
  line L21 (16, -22) -> (16, -18.2504)
  line L22 (-7, 4) -> (-7, -26) projected
  line L23 (-7, -11) -> (8.9887, -11)
  line L24 (32, -22) -> (31.75, -22)
  line L25 (31.75, -22) -> (31.75, -20.5)
  line L26 (31.75, -20.5) -> (32, -20.5)
  line L27 (32, -20.5) -> (32, -22)
  line L28 (32, -22) -> (31.7, -22)
  line L29 (31.7, -22) -> (31.7, -20.4)
  line L30 (31.7, -20.4) -> (32, -20.4)
  line L31 (32, -20.4) -> (32, -22)
  line L32 (31.7, -20.4) -> (32.3, -20.4)
  line L33 (32.3, -20.4) -> (32.3, -23.6)
  line L34 (32.3, -23.6) -> (31.7, -23.6)
  line L35 (31.7, -23.6) -> (31.7, -20.4)
  line L36 (32, -22) -> (30.4, -22)
  line L37 (30.4, -22) -> (30.4, -21.7)
  line L38 (30.4, -21.7) -> (32, -21.7)
  line L39 (32, -21.7) -> (32, -22)
  line L40 (30.4, -21.7) -> (33.6, -21.7)
  line L41 (33.6, -21.7) -> (33.6, -22.3)
  line L42 (33.6, -22.3) -> (30.4, -22.3)
  line L43 (30.4, -22.3) -> (30.4, -21.7)
  line L44 (0, -22) -> (25.5, -22)
  line L45 (25.5, -22) -> (25.5, -11.5994)
  line L46 (51, -22) -> (50.75, -22)
  line L47 (50.75, -22) -> (50.75, -20.5)
  line L48 (50.75, -20.5) -> (51, -20.5)
  line L49 (51, -20.5) -> (51, -22)
  line L50 (51, -22) -> (50.7, -22)
  line L51 (50.7, -22) -> (50.7, -20.4)
  line L52 (50.7, -20.4) -> (51, -20.4)
  line L53 (51, -20.4) -> (51, -22)
  line L54 (50.7, -20.4) -> (51.3, -20.4)
  line L55 (51.3, -20.4) -> (51.3, -23.6)
  line L56 (51.3, -23.6) -> (50.7, -23.6)
  line L57 (50.7, -23.6) -> (50.7, -20.4)
  line L58 (51, -22) -> (49.4, -22)
  line L59 (49.4, -22) -> (49.4, -21.7)
  line L60 (49.4, -21.7) -> (51, -21.7)
  line L61 (51, -21.7) -> (51, -22)
  line L62 (49.4, -21.7) -> (52.6, -21.7)
  line L63 (52.6, -21.7) -> (52.6, -22.3)
  line L64 (52.6, -22.3) -> (49.4, -22.3)
  line L65 (49.4, -22.3) -> (49.4, -21.7)
  circle A2 centre (0, 0) radius 2.25
  circle A3 centre (0, 0) radius 2.25
  line L66 (0, 0) -> (0.25, 0)
  line L67 (0.25, 0) -> (0.25, -1.5)
  line L68 (0.25, -1.5) -> (0, -1.5)
  line L69 (0, -1.5) -> (0, 0)
  line L70 (0, 0) -> (0.3, 0)
  line L71 (0.3, 0) -> (0.3, -1.6)
  line L72 (0.3, -1.6) -> (0, -1.6)
  line L73 (0, -1.6) -> (0, 0)
  line L74 (0.3, -1.6) -> (-0.3, -1.6)
  line L75 (-0.3, -1.6) -> (-0.3, 1.6)
  line L76 (-0.3, 1.6) -> (0.3, 1.6)
  line L77 (0.3, 1.6) -> (0.3, -1.6)
  line L78 (0, 0) -> (1.6, 0)
  line L79 (1.6, 0) -> (1.6, -0.3)
  line L80 (1.6, -0.3) -> (0, -0.3)
  line L81 (0, -0.3) -> (0, 0)
  line L82 (1.6, -0.3) -> (-1.6, -0.3)
  line L83 (-1.6, -0.3) -> (-1.6, 0.3)
  line L84 (-1.6, 0.3) -> (1.6, 0.3)
  line L85 (1.6, 0.3) -> (1.6, -0.3)
  line L86 (49.4, 0) -> (49.4, -0.3)
  line L87 (50.7, 0) -> (50.7, -1.6)
  line L88 (51, 0) -> (49.4, 0)
  line L89 (49.4, -0.3) -> (51, -0.3)
  line L90 (50.7, -1.6) -> (51, -1.6)
  line L91 (51, -1.6) -> (51, 0)
  line L92 (51, 0) -> (50.7, 0)
  line L93 (51, 0) -> (50.75, 0)
  line L94 (50.75, -1.5) -> (51, -1.5)
  line L95 (51, -1.5) -> (51, 0)
  line L96 (51, -0.3) -> (51, 0)
  line L97 (50.75, 0) -> (50.75, -1.5)
  line L98 (49.4, 0.3) -> (49.4, -0.3)
  line L99 (50.7, -1.6) -> (51.3, -1.6)
  line L100 (50.7, 1.6) -> (50.7, -1.6)
  line L101 (51.3, -1.6) -> (51.3, 1.6)
  line L102 (51.3, 1.6) -> (50.7, 1.6)
  line L103 (49.4, -0.3) -> (52.6, -0.3)
  line L104 (52.6, -0.3) -> (52.6, 0.3)
  line L105 (52.6, 0.3) -> (49.4, 0.3)
  point P0 (-7, -28)
  point P1 (50.7, -0.3)
  point P2 (51.3, -0.3)
  point P3 (51.3, 0.3)
  point P4 (50.7, 0.3)
  point P5 (51.3, -21.7)
  point P6 (50.7, -21.7)
  point P7 (50.7, -22.3)
  point P8 (51.3, -22.3)
  point P9 (-0.3, -21.7)
  point P10 (-0.3, -22.3)
  point P11 (0.3, -22.3)
  point P12 (0.3, -21.7)
  point P13 (0.3, -0.3)
  point P14 (0.3, 0.3)
  point P15 (-0.3, 0.3)
  point P16 (-0.3, -0.3)
  dimension "d130" = 0.25
  dimension "d131" = 1.5
  dimension "d132" = 0.3
  dimension "d133" = 1.6
  dimension "d134" = 0.6
  dimension "d135" = 3.2
  dimension "d136" = 1.6
  dimension "d137" = 0.3
  dimension "d138" = 3.2
  dimension "d139" = 0.6
  dimension "d140" = 16
  dimension "d141" = 25.5
extrude "Extrusão20" add sketch "Esboço23" along normal blind 0.5 contours L19 L18 L11 L12 | L12 L5 L14 L13 | L11 L18 L9 L16 L3 L0 L4 | L4 L1 L14 L5 | L0 L3 L14 L1 | L14 L1 L2 L7 L6 L5 | L11 L10 L9 L18 | L14 L3 L2 L1 | L18 L17 L16 L9 | L16 L9 L8 L7 L3 | L49 L62 L55 L64 L57 L50 L46 | L46 L47 L60 L49 | L50 L51 L60 L47 | L60 L47 L48 L49 | L49 L53 L54 L55 L62 | L60 L51 L52 L53 L48 L47 | L58 L59 L60 L51 | L57 L64 L65 L58 | L62 L63 L64 L55 | L64 L55 L56 L57 | L69 L82 L75 L84 L77 L70 L66 | L66 L67 L80 L69 | L70 L71 L80 L67 | L80 L67 L68 L69 | L69 L73 L74 L75 L82 | L80 L71 L72 L73 L68 L67 | L78 L79 L80 L71 | L77 L84 L85 L78 | L82 L83 L84 L75 | L84 L75 L76 L77 | L88 L87 L89 L86 | L98 L105 L100 L88 | L88 L97 L89 L87 | L100 L105 L101 L103 L91 L88 | L89 L97 L94 L91 L90 L87 | L88 L91 L89 L97 | L100 L102 L101 L105 | L89 L91 L94 L97 | L105 L104 L103 L101 | L91 L103 L101 L99
properties part number "chapa_carbono_lateral"
